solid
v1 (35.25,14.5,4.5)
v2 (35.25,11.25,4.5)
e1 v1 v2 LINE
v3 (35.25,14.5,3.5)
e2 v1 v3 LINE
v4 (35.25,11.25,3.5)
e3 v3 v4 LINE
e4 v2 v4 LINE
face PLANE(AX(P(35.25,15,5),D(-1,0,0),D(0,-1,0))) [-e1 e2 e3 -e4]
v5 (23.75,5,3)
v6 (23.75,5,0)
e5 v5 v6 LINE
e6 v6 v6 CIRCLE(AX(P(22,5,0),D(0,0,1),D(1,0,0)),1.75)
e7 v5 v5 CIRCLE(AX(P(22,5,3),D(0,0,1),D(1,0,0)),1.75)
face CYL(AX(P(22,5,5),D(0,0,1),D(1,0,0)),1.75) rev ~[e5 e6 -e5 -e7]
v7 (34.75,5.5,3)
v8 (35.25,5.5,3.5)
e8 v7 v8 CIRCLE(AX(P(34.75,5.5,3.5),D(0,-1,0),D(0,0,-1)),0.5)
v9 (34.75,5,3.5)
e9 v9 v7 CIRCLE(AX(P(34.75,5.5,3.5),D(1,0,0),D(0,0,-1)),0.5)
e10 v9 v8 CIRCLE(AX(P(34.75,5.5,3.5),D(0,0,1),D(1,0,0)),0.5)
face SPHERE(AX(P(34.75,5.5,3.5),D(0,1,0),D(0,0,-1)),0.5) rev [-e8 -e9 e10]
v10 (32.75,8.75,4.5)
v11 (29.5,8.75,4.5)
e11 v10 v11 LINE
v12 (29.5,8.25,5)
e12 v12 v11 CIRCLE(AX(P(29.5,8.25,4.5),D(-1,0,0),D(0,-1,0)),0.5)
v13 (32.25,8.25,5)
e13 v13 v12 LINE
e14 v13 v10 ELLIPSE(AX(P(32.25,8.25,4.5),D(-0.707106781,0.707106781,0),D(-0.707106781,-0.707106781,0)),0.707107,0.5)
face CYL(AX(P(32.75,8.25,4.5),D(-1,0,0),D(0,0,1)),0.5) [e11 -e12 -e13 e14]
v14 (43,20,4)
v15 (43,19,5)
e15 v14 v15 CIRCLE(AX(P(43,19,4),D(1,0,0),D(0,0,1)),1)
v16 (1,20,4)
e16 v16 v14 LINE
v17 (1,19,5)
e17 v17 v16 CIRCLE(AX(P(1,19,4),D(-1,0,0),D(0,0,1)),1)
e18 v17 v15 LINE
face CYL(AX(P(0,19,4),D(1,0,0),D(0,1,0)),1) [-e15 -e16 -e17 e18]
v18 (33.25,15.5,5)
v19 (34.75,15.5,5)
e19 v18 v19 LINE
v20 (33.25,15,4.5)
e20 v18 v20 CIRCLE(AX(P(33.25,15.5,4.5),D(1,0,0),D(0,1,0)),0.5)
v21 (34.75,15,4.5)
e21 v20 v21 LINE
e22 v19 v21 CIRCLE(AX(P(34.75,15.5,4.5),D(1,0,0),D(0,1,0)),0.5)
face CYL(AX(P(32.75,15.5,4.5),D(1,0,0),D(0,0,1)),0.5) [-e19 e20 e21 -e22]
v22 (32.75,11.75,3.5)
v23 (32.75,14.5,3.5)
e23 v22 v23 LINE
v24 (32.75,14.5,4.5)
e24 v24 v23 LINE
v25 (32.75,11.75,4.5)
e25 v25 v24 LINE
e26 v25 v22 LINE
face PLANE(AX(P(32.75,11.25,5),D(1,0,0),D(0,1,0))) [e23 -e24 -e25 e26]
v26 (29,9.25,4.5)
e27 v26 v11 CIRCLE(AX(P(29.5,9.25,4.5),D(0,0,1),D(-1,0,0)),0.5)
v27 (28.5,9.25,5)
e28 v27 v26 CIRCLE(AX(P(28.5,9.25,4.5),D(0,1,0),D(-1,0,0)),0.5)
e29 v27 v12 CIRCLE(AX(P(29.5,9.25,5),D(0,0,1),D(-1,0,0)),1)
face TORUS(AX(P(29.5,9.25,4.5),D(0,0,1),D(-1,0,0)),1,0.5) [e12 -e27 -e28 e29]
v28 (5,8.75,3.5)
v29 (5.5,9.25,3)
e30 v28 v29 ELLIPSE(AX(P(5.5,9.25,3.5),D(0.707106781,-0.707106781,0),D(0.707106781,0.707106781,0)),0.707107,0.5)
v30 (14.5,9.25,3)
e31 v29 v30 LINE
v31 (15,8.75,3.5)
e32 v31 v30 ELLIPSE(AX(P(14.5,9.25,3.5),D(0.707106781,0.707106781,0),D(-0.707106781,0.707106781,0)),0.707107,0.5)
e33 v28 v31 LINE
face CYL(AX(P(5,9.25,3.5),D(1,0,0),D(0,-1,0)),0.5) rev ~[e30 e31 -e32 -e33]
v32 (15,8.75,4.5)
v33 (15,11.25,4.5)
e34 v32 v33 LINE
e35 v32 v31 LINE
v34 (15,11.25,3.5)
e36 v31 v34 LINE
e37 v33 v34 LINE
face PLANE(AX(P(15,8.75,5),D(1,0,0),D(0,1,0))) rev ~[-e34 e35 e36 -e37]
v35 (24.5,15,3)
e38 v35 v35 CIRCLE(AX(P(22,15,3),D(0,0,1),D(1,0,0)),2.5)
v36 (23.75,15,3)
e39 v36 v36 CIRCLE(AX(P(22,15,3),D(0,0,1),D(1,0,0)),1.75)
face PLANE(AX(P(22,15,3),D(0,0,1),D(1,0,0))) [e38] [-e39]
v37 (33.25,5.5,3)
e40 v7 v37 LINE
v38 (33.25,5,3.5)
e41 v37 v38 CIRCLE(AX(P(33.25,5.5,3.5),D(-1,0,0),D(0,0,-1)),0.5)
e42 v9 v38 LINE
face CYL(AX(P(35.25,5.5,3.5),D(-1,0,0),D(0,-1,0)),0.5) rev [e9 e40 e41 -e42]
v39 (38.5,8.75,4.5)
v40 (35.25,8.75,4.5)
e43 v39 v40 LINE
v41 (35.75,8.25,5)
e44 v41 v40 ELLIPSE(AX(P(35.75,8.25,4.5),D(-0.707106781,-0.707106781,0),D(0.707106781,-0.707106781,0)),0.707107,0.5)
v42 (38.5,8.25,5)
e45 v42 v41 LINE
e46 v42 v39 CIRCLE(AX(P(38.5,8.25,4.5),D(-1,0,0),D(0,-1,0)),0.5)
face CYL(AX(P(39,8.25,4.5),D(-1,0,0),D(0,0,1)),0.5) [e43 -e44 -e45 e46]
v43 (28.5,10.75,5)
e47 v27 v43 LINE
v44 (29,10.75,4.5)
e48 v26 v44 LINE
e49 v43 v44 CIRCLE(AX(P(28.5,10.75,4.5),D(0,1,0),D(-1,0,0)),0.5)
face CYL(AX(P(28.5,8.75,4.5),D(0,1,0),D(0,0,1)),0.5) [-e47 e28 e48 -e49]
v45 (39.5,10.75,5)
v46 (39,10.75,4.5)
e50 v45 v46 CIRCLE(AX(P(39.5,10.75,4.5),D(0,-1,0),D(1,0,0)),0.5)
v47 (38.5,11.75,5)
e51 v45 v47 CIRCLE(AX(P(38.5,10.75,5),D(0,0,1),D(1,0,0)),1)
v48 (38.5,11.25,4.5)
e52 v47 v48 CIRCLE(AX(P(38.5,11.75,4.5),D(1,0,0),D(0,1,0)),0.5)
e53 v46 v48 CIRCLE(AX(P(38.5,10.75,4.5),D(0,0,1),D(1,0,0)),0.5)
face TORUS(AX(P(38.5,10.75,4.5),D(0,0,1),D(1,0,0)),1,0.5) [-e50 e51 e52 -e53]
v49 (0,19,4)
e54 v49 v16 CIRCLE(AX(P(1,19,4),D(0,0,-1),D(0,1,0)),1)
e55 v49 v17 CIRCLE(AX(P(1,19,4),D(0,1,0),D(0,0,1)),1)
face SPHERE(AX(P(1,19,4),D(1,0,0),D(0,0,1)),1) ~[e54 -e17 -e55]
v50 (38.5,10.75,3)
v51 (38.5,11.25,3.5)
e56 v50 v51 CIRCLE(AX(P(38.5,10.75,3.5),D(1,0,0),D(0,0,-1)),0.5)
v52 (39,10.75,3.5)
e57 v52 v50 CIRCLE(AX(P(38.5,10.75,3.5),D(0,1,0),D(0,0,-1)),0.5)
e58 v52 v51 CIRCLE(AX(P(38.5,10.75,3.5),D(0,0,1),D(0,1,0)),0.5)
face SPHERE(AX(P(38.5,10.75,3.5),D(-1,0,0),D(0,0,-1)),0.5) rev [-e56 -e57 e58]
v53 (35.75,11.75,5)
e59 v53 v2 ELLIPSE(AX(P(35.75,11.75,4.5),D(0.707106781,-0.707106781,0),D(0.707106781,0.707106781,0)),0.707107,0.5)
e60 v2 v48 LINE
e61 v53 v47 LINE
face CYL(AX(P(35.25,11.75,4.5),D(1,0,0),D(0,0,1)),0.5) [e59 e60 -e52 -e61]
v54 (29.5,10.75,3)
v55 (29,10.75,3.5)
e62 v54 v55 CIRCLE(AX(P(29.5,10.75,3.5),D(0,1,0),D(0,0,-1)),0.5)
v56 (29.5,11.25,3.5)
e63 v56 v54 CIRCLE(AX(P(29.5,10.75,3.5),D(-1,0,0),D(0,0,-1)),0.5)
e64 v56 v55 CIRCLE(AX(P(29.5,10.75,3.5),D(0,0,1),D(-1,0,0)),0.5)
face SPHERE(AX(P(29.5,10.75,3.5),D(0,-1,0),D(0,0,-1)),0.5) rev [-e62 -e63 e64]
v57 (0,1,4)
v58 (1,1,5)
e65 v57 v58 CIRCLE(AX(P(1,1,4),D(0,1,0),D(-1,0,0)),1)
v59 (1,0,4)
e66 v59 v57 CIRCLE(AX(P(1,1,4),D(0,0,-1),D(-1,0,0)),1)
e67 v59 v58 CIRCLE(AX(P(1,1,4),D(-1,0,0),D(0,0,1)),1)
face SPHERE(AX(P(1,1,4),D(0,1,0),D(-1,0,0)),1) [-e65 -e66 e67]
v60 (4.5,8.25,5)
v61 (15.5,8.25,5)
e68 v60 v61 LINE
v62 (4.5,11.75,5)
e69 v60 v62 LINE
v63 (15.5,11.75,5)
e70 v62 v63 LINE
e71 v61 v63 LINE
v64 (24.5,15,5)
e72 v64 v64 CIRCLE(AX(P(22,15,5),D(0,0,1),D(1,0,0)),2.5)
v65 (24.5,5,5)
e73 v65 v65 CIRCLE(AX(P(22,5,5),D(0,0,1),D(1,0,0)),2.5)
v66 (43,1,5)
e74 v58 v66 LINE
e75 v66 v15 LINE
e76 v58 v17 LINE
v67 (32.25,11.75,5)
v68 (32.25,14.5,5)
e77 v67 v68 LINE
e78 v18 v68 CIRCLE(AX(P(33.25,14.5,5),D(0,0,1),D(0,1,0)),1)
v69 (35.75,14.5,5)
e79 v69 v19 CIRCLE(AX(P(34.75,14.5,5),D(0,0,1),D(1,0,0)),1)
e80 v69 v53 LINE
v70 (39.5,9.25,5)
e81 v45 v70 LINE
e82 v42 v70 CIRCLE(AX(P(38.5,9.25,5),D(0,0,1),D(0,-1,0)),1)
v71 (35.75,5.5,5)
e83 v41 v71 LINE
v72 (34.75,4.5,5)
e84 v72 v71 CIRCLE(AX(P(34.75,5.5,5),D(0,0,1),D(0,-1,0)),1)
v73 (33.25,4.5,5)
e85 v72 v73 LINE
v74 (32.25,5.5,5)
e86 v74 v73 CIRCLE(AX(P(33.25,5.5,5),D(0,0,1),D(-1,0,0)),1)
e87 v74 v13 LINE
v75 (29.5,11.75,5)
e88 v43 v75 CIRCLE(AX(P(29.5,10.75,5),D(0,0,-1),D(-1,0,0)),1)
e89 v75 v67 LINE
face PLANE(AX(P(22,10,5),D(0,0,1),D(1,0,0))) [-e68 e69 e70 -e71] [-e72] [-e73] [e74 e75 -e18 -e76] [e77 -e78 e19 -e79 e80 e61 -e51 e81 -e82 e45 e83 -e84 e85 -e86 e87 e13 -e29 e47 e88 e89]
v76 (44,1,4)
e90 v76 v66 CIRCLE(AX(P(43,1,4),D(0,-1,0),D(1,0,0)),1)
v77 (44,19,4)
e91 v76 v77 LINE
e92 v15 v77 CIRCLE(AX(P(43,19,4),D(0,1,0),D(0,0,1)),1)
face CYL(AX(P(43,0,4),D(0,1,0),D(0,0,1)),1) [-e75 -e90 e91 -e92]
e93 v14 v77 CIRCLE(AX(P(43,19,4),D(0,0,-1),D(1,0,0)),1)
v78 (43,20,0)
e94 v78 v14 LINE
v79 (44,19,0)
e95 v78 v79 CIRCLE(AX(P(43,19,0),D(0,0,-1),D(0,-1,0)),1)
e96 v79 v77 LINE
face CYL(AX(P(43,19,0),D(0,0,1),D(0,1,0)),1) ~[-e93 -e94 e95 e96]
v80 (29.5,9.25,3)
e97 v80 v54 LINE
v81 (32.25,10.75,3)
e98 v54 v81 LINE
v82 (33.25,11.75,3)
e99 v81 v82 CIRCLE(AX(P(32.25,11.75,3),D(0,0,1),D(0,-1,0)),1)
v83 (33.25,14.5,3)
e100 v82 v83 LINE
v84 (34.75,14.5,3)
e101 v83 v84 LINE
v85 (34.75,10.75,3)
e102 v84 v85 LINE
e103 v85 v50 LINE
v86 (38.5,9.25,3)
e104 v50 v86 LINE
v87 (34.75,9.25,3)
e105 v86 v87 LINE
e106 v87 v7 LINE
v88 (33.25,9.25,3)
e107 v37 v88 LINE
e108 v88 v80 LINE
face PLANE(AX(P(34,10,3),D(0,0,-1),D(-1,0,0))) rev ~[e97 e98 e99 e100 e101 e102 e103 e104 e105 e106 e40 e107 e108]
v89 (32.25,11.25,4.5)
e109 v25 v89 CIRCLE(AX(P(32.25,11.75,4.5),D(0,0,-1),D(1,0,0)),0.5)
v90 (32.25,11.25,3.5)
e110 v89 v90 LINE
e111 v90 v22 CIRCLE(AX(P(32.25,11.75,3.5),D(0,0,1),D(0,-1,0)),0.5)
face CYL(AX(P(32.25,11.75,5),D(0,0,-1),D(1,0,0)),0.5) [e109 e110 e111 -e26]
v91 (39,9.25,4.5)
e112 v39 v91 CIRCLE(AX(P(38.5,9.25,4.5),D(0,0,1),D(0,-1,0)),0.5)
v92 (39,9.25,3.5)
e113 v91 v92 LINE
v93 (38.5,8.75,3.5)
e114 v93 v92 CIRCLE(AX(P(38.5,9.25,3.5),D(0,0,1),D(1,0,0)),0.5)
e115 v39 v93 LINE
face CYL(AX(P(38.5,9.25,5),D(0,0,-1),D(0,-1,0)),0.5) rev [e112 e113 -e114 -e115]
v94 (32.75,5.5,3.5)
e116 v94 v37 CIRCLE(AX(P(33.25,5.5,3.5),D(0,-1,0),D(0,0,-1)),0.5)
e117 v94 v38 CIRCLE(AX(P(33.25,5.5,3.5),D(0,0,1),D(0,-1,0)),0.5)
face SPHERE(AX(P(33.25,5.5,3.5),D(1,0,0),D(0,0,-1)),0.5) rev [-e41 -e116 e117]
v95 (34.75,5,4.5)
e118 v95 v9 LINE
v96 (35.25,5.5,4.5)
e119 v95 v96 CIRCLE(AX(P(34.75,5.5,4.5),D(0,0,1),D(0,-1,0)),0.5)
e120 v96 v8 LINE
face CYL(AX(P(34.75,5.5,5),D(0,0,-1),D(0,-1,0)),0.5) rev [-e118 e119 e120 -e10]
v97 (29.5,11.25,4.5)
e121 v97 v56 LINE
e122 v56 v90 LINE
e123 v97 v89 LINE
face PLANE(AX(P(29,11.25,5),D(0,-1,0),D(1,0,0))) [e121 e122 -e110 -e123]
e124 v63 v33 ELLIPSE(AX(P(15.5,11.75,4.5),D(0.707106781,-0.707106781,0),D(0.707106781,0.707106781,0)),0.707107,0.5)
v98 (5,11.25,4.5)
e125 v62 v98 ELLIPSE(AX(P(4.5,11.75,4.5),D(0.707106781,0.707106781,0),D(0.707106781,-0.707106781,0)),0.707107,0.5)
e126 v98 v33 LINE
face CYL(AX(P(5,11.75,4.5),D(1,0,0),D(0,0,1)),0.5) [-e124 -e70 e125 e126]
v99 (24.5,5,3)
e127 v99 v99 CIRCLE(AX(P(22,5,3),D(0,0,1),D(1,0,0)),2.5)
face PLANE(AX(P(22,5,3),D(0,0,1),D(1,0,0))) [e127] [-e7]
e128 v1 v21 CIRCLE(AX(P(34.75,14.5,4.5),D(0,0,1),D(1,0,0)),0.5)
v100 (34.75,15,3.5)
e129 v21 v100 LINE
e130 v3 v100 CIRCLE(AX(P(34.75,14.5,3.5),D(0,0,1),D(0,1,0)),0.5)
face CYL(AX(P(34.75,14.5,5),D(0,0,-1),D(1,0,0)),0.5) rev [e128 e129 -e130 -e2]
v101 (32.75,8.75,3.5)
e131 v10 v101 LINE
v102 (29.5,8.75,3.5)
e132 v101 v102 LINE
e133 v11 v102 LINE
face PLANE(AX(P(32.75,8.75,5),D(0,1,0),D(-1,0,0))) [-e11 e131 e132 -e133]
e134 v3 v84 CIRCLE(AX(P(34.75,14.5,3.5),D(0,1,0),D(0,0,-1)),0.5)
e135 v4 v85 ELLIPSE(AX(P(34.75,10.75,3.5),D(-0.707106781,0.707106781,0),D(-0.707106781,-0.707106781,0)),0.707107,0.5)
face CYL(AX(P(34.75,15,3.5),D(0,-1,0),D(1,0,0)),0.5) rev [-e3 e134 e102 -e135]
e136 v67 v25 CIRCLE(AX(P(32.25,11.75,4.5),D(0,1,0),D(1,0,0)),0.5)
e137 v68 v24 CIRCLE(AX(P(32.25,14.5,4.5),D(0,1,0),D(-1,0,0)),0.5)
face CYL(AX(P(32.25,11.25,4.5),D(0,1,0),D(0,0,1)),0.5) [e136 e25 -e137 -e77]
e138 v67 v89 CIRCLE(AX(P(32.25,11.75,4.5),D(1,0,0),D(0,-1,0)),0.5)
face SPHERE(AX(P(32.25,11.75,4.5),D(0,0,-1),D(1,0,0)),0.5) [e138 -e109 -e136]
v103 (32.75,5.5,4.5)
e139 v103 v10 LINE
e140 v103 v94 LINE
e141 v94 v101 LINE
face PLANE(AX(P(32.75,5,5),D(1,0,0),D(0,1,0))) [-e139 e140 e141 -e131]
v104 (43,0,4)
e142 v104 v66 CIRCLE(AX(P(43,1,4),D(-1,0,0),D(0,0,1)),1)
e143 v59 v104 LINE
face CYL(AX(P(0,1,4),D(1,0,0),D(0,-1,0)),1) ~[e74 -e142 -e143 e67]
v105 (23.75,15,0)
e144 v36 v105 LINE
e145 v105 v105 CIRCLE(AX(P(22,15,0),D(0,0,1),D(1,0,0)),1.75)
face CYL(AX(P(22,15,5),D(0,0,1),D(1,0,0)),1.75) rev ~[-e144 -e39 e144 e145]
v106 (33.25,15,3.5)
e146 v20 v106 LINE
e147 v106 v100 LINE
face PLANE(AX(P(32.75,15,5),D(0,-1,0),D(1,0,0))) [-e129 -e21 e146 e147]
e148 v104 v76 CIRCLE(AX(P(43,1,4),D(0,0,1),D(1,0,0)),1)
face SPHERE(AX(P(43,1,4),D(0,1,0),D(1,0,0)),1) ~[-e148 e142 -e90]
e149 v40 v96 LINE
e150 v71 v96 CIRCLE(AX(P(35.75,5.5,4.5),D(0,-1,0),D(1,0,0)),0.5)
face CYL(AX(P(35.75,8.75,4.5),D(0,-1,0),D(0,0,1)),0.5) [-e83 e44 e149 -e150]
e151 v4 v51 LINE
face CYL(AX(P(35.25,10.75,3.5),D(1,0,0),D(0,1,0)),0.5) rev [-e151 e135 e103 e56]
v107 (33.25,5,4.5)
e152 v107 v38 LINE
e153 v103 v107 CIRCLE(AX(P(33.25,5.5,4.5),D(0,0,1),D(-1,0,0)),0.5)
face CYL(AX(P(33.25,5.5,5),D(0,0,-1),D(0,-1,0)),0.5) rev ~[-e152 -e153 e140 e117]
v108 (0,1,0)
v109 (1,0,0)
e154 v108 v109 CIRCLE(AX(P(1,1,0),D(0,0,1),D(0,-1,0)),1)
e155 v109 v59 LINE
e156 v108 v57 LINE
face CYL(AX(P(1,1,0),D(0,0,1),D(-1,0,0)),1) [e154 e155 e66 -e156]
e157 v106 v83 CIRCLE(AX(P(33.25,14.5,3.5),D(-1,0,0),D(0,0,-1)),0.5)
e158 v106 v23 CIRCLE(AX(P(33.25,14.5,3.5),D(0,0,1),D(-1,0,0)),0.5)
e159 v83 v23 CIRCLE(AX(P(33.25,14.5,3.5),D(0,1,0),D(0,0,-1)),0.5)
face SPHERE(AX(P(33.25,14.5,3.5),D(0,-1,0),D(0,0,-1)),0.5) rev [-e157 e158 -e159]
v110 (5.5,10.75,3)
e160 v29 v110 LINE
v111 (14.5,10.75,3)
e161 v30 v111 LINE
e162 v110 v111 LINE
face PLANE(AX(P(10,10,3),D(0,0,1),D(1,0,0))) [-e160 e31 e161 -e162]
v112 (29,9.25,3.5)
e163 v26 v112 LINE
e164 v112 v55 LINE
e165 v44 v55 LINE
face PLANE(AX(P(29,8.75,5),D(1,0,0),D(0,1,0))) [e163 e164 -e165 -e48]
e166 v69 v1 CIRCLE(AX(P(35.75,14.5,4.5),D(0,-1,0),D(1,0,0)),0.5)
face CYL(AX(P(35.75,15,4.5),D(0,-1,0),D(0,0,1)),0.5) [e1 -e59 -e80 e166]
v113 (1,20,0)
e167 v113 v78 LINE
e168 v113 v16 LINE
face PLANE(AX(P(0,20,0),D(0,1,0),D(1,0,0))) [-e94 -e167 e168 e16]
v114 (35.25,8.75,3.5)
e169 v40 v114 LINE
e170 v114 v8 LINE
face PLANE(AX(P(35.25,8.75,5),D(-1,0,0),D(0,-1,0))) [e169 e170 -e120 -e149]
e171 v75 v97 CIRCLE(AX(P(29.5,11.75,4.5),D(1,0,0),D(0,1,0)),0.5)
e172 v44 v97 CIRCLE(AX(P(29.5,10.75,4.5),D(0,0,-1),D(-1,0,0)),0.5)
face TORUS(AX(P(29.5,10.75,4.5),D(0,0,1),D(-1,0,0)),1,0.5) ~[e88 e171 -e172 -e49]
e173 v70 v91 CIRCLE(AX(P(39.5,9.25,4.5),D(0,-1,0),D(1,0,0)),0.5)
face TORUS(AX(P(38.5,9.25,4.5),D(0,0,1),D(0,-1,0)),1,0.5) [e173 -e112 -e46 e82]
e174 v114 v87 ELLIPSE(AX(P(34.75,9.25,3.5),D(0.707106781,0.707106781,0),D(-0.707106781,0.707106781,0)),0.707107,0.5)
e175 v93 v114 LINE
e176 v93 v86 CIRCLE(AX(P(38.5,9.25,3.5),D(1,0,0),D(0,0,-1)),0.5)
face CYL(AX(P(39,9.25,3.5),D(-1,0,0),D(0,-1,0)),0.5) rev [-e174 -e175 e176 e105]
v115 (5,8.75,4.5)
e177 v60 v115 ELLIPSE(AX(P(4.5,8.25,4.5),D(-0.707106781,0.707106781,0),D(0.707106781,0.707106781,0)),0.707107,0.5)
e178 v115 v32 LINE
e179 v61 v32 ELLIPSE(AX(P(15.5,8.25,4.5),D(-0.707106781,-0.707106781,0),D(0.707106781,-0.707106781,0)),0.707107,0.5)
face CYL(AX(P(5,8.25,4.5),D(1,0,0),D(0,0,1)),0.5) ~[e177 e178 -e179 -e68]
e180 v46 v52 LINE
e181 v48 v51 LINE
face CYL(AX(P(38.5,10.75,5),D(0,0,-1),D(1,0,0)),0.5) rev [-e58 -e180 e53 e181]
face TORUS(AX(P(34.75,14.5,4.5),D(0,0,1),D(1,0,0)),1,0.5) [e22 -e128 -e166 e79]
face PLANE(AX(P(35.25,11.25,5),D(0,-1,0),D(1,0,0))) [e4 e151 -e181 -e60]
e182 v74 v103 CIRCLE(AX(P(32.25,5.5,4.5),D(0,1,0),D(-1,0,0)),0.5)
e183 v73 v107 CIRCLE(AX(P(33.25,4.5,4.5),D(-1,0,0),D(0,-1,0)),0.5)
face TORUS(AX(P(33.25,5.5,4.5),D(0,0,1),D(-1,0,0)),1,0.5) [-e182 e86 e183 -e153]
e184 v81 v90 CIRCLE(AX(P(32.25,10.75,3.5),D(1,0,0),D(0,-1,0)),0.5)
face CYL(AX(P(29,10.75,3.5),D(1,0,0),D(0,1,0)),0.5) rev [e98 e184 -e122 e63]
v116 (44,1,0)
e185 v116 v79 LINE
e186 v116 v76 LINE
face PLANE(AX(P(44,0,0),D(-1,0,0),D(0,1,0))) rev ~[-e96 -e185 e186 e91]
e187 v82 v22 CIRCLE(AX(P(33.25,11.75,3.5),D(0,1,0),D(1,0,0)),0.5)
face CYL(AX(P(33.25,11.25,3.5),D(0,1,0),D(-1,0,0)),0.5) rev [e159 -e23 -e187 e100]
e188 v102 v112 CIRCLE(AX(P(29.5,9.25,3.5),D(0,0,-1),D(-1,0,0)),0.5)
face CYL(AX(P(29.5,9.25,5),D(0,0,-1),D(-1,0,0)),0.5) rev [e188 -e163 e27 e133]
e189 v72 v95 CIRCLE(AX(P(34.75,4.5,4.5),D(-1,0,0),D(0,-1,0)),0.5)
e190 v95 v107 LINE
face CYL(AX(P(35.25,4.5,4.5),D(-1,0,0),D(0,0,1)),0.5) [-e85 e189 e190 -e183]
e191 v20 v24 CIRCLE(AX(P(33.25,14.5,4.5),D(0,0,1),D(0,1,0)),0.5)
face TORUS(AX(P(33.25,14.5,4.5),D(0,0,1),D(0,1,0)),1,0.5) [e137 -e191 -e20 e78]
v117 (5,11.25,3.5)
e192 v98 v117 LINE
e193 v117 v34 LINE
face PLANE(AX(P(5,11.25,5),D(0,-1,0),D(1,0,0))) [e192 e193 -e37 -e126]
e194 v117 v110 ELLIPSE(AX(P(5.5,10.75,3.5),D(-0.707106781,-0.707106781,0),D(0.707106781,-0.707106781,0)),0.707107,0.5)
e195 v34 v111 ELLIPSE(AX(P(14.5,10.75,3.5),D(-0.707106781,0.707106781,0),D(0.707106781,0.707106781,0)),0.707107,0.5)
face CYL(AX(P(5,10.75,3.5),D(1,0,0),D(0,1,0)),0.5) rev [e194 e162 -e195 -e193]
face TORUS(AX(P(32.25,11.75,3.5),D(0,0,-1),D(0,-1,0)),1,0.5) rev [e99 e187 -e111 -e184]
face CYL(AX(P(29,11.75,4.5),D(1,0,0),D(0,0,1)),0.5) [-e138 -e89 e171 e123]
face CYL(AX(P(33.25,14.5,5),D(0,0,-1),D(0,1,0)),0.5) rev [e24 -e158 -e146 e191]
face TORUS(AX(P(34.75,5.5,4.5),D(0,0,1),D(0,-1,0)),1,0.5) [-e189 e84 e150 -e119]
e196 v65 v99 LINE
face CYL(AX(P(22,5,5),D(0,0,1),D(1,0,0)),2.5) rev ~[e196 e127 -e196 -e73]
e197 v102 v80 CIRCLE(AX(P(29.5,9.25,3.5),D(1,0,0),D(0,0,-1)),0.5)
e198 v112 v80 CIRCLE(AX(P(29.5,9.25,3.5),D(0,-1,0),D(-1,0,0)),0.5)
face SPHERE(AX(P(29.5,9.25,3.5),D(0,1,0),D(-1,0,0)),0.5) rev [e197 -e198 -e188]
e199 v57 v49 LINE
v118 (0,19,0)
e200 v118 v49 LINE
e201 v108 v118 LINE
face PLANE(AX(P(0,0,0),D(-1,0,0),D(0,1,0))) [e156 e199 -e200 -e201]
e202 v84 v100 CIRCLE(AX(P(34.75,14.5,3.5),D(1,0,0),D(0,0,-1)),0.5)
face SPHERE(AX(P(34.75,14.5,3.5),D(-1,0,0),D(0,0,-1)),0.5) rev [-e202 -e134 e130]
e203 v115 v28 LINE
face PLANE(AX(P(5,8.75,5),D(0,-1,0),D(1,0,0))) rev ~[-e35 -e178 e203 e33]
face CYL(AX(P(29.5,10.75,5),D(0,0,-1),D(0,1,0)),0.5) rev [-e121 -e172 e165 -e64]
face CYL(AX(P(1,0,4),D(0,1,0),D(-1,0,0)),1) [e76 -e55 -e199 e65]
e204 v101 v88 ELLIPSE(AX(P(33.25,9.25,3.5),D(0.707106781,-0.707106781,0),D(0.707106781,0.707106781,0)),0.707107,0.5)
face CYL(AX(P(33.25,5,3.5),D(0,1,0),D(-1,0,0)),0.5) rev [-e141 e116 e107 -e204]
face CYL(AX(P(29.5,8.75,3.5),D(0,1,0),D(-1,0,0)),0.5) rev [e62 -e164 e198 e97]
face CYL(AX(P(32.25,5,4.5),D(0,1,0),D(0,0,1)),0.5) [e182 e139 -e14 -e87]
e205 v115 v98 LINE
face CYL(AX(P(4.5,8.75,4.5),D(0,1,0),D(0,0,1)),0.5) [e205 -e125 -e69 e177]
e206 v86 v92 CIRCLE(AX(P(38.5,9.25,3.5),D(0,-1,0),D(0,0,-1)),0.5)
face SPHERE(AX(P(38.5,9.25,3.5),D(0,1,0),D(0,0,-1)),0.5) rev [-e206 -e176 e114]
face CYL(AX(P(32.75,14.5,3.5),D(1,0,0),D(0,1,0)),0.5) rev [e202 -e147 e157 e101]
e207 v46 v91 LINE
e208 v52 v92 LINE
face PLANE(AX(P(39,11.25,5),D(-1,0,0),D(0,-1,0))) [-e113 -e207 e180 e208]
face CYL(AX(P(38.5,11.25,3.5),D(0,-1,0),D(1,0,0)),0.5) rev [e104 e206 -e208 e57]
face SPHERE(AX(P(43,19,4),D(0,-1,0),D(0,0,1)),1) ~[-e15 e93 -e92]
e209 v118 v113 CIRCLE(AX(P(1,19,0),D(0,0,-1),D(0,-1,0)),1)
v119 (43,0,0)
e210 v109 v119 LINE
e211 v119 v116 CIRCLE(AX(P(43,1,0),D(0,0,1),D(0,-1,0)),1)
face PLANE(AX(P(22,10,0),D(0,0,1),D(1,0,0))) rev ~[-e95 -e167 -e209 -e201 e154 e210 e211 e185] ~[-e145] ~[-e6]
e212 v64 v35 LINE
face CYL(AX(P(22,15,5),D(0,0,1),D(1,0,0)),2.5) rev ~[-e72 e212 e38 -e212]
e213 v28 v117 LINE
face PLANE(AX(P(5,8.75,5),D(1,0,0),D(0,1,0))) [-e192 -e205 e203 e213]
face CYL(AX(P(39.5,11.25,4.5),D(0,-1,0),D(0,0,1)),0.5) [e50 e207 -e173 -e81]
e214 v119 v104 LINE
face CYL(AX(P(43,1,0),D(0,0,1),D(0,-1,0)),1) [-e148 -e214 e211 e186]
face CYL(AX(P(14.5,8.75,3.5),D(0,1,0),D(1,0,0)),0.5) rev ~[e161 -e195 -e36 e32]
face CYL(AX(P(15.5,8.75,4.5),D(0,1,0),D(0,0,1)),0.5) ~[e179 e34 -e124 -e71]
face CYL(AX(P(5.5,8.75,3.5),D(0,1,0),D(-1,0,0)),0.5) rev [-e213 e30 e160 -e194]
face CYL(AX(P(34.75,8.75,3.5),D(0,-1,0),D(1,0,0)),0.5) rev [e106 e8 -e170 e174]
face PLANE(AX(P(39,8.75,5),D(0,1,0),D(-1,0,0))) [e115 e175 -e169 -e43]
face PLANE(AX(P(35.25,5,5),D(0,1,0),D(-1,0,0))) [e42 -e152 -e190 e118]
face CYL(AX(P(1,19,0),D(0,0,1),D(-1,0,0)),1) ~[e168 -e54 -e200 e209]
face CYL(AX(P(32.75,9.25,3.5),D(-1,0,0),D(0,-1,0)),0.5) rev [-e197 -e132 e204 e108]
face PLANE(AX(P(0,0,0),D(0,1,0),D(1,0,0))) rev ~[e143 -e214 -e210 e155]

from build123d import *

# Parameters (mm, degrees)
SKETCH1_W           = 44
SKETCH1_H           = 20
BOSS_EXTRUDE1_DEPTH = 5
CUT_EXTRUDE1_REACH  = 50.59
SKETCH2_R           = 1.75
SKETCH3_R           = 2.5
CUT_EXTRUDE2_DEPTH  = 2
SKETCH4_W           = 10
SKETCH4_H           = 2.5
CUT_EXTRUDE3_DEPTH  = 2
FILLET1_R           = 1
FILLET2_R           = 0.5


with BuildPart() as part:
    # Sketch1 → Boss-Extrude1 (new body)
    with BuildSketch(Plane.XY):
        with Locations((22, 10)):
            Rectangle(SKETCH1_W, SKETCH1_H)
    extrude(amount=BOSS_EXTRUDE1_DEPTH)

    # Sketch2 → Cut-Extrude1 (cut, up to next)
    with BuildSketch(Plane.XY.offset(5), mode=Mode.PRIVATE) as cut_extrude1_sk1:
        with Locations((22, 15)):
            Circle(SKETCH2_R)
    cut_extrude1_tool1 = extrude(cut_extrude1_sk1.sketch, amount=-CUT_EXTRUDE1_REACH, mode=Mode.PRIVATE) & part.part
    # Sketch2 → Cut-Extrude1 (cut, up to next)
    with BuildSketch(Plane.XY.offset(5), mode=Mode.PRIVATE) as cut_extrude1_sk2:
        with Locations((22, 5)):
            Circle(SKETCH2_R)
    cut_extrude1_tool2 = extrude(cut_extrude1_sk2.sketch, amount=-CUT_EXTRUDE1_REACH, mode=Mode.PRIVATE) & part.part
    add(cut_extrude1_tool1.solids().sort_by_distance((22, 15, 5))[0], mode=Mode.SUBTRACT)
    add(cut_extrude1_tool2.solids().sort_by_distance((22, 5, 5))[0], mode=Mode.SUBTRACT)

    # Sketch3 → Cut-Extrude2 (cut)
    with BuildSketch(Plane.XY.offset(5)):
        with Locations((22, 15)):
            Circle(SKETCH3_R)
        with Locations((22, 5)):
            Circle(SKETCH3_R)
    extrude(amount=-CUT_EXTRUDE2_DEPTH, mode=Mode.SUBTRACT)

    # Sketch4 → Cut-Extrude3 (cut)
    with BuildSketch(Plane.XY.offset(5)):
        with Locations((10, 10)):
            Rectangle(SKETCH4_W, SKETCH4_H)
        Polygon((32.75, 5), (32.75, 8.75), (29, 8.75), (29, 11.25), (32.75, 11.25), (32.75, 15), (35.25, 15), (35.25, 11.25), (39, 11.25), (39, 8.75), (35.25, 8.75), (35.25, 5), align=None)
    extrude(amount=-CUT_EXTRUDE3_DEPTH, mode=Mode.SUBTRACT)

    # Fillet1
    fillet1_edges = [part.edges().sort_by_distance(p)[0] for p in [
        (44, 10, 5),
        (22, 20, 5),
        (0, 10, 5),
        (0, 20, 2.5),
        (44, 20, 2.5),
        (44, 0, 2.5),
        (0, 0, 2.5),
        (22, 0, 5),
    ]]
    fillet(fillet1_edges, radius=FILLET1_R)

    # Fillet2
    fillet2_edges = [part.edges().sort_by_distance(p)[0] for p in [
        (10, 11.25, 3),
        (15, 10, 3),
        (10, 8.75, 3),
        (5, 10, 3),
        (10, 11.25, 5),
        (5, 10, 5),
        (10, 8.75, 5),
        (15, 10, 5),
        (29, 10, 3),
        (29, 8.75, 4),
        (30.875, 11.25, 3),
        (29, 11.25, 4),
        (32.75, 13.125, 3),
        (32.75, 11.25, 4),
        (34, 15, 3),
        (32.75, 15, 4),
        (35.25, 13.125, 3),
        (35.25, 15, 4),
        (37.125, 11.25, 3),
        (39, 10, 3),
        (39, 11.25, 4),
        (37.125, 8.75, 3),
        (39, 8.75, 4),
        (35.25, 6.875, 3),
        (34, 5, 3),
        (35.25, 5, 4),
        (32.75, 6.875, 3),
        (32.75, 5, 4),
        (30.875, 8.75, 3),
        (29, 10, 5),
        (30.875, 8.75, 5),
        (32.75, 6.875, 5),
        (34, 5, 5),
        (35.25, 6.875, 5),
        (37.125, 8.75, 5),
        (39, 10, 5),
        (37.125, 11.25, 5),
        (35.25, 13.125, 5),
        (34, 15, 5),
        (32.75, 13.125, 5),
        (30.875, 11.25, 5),
    ]]
    fillet(fillet2_edges, radius=FILLET2_R)


solid = part.part
